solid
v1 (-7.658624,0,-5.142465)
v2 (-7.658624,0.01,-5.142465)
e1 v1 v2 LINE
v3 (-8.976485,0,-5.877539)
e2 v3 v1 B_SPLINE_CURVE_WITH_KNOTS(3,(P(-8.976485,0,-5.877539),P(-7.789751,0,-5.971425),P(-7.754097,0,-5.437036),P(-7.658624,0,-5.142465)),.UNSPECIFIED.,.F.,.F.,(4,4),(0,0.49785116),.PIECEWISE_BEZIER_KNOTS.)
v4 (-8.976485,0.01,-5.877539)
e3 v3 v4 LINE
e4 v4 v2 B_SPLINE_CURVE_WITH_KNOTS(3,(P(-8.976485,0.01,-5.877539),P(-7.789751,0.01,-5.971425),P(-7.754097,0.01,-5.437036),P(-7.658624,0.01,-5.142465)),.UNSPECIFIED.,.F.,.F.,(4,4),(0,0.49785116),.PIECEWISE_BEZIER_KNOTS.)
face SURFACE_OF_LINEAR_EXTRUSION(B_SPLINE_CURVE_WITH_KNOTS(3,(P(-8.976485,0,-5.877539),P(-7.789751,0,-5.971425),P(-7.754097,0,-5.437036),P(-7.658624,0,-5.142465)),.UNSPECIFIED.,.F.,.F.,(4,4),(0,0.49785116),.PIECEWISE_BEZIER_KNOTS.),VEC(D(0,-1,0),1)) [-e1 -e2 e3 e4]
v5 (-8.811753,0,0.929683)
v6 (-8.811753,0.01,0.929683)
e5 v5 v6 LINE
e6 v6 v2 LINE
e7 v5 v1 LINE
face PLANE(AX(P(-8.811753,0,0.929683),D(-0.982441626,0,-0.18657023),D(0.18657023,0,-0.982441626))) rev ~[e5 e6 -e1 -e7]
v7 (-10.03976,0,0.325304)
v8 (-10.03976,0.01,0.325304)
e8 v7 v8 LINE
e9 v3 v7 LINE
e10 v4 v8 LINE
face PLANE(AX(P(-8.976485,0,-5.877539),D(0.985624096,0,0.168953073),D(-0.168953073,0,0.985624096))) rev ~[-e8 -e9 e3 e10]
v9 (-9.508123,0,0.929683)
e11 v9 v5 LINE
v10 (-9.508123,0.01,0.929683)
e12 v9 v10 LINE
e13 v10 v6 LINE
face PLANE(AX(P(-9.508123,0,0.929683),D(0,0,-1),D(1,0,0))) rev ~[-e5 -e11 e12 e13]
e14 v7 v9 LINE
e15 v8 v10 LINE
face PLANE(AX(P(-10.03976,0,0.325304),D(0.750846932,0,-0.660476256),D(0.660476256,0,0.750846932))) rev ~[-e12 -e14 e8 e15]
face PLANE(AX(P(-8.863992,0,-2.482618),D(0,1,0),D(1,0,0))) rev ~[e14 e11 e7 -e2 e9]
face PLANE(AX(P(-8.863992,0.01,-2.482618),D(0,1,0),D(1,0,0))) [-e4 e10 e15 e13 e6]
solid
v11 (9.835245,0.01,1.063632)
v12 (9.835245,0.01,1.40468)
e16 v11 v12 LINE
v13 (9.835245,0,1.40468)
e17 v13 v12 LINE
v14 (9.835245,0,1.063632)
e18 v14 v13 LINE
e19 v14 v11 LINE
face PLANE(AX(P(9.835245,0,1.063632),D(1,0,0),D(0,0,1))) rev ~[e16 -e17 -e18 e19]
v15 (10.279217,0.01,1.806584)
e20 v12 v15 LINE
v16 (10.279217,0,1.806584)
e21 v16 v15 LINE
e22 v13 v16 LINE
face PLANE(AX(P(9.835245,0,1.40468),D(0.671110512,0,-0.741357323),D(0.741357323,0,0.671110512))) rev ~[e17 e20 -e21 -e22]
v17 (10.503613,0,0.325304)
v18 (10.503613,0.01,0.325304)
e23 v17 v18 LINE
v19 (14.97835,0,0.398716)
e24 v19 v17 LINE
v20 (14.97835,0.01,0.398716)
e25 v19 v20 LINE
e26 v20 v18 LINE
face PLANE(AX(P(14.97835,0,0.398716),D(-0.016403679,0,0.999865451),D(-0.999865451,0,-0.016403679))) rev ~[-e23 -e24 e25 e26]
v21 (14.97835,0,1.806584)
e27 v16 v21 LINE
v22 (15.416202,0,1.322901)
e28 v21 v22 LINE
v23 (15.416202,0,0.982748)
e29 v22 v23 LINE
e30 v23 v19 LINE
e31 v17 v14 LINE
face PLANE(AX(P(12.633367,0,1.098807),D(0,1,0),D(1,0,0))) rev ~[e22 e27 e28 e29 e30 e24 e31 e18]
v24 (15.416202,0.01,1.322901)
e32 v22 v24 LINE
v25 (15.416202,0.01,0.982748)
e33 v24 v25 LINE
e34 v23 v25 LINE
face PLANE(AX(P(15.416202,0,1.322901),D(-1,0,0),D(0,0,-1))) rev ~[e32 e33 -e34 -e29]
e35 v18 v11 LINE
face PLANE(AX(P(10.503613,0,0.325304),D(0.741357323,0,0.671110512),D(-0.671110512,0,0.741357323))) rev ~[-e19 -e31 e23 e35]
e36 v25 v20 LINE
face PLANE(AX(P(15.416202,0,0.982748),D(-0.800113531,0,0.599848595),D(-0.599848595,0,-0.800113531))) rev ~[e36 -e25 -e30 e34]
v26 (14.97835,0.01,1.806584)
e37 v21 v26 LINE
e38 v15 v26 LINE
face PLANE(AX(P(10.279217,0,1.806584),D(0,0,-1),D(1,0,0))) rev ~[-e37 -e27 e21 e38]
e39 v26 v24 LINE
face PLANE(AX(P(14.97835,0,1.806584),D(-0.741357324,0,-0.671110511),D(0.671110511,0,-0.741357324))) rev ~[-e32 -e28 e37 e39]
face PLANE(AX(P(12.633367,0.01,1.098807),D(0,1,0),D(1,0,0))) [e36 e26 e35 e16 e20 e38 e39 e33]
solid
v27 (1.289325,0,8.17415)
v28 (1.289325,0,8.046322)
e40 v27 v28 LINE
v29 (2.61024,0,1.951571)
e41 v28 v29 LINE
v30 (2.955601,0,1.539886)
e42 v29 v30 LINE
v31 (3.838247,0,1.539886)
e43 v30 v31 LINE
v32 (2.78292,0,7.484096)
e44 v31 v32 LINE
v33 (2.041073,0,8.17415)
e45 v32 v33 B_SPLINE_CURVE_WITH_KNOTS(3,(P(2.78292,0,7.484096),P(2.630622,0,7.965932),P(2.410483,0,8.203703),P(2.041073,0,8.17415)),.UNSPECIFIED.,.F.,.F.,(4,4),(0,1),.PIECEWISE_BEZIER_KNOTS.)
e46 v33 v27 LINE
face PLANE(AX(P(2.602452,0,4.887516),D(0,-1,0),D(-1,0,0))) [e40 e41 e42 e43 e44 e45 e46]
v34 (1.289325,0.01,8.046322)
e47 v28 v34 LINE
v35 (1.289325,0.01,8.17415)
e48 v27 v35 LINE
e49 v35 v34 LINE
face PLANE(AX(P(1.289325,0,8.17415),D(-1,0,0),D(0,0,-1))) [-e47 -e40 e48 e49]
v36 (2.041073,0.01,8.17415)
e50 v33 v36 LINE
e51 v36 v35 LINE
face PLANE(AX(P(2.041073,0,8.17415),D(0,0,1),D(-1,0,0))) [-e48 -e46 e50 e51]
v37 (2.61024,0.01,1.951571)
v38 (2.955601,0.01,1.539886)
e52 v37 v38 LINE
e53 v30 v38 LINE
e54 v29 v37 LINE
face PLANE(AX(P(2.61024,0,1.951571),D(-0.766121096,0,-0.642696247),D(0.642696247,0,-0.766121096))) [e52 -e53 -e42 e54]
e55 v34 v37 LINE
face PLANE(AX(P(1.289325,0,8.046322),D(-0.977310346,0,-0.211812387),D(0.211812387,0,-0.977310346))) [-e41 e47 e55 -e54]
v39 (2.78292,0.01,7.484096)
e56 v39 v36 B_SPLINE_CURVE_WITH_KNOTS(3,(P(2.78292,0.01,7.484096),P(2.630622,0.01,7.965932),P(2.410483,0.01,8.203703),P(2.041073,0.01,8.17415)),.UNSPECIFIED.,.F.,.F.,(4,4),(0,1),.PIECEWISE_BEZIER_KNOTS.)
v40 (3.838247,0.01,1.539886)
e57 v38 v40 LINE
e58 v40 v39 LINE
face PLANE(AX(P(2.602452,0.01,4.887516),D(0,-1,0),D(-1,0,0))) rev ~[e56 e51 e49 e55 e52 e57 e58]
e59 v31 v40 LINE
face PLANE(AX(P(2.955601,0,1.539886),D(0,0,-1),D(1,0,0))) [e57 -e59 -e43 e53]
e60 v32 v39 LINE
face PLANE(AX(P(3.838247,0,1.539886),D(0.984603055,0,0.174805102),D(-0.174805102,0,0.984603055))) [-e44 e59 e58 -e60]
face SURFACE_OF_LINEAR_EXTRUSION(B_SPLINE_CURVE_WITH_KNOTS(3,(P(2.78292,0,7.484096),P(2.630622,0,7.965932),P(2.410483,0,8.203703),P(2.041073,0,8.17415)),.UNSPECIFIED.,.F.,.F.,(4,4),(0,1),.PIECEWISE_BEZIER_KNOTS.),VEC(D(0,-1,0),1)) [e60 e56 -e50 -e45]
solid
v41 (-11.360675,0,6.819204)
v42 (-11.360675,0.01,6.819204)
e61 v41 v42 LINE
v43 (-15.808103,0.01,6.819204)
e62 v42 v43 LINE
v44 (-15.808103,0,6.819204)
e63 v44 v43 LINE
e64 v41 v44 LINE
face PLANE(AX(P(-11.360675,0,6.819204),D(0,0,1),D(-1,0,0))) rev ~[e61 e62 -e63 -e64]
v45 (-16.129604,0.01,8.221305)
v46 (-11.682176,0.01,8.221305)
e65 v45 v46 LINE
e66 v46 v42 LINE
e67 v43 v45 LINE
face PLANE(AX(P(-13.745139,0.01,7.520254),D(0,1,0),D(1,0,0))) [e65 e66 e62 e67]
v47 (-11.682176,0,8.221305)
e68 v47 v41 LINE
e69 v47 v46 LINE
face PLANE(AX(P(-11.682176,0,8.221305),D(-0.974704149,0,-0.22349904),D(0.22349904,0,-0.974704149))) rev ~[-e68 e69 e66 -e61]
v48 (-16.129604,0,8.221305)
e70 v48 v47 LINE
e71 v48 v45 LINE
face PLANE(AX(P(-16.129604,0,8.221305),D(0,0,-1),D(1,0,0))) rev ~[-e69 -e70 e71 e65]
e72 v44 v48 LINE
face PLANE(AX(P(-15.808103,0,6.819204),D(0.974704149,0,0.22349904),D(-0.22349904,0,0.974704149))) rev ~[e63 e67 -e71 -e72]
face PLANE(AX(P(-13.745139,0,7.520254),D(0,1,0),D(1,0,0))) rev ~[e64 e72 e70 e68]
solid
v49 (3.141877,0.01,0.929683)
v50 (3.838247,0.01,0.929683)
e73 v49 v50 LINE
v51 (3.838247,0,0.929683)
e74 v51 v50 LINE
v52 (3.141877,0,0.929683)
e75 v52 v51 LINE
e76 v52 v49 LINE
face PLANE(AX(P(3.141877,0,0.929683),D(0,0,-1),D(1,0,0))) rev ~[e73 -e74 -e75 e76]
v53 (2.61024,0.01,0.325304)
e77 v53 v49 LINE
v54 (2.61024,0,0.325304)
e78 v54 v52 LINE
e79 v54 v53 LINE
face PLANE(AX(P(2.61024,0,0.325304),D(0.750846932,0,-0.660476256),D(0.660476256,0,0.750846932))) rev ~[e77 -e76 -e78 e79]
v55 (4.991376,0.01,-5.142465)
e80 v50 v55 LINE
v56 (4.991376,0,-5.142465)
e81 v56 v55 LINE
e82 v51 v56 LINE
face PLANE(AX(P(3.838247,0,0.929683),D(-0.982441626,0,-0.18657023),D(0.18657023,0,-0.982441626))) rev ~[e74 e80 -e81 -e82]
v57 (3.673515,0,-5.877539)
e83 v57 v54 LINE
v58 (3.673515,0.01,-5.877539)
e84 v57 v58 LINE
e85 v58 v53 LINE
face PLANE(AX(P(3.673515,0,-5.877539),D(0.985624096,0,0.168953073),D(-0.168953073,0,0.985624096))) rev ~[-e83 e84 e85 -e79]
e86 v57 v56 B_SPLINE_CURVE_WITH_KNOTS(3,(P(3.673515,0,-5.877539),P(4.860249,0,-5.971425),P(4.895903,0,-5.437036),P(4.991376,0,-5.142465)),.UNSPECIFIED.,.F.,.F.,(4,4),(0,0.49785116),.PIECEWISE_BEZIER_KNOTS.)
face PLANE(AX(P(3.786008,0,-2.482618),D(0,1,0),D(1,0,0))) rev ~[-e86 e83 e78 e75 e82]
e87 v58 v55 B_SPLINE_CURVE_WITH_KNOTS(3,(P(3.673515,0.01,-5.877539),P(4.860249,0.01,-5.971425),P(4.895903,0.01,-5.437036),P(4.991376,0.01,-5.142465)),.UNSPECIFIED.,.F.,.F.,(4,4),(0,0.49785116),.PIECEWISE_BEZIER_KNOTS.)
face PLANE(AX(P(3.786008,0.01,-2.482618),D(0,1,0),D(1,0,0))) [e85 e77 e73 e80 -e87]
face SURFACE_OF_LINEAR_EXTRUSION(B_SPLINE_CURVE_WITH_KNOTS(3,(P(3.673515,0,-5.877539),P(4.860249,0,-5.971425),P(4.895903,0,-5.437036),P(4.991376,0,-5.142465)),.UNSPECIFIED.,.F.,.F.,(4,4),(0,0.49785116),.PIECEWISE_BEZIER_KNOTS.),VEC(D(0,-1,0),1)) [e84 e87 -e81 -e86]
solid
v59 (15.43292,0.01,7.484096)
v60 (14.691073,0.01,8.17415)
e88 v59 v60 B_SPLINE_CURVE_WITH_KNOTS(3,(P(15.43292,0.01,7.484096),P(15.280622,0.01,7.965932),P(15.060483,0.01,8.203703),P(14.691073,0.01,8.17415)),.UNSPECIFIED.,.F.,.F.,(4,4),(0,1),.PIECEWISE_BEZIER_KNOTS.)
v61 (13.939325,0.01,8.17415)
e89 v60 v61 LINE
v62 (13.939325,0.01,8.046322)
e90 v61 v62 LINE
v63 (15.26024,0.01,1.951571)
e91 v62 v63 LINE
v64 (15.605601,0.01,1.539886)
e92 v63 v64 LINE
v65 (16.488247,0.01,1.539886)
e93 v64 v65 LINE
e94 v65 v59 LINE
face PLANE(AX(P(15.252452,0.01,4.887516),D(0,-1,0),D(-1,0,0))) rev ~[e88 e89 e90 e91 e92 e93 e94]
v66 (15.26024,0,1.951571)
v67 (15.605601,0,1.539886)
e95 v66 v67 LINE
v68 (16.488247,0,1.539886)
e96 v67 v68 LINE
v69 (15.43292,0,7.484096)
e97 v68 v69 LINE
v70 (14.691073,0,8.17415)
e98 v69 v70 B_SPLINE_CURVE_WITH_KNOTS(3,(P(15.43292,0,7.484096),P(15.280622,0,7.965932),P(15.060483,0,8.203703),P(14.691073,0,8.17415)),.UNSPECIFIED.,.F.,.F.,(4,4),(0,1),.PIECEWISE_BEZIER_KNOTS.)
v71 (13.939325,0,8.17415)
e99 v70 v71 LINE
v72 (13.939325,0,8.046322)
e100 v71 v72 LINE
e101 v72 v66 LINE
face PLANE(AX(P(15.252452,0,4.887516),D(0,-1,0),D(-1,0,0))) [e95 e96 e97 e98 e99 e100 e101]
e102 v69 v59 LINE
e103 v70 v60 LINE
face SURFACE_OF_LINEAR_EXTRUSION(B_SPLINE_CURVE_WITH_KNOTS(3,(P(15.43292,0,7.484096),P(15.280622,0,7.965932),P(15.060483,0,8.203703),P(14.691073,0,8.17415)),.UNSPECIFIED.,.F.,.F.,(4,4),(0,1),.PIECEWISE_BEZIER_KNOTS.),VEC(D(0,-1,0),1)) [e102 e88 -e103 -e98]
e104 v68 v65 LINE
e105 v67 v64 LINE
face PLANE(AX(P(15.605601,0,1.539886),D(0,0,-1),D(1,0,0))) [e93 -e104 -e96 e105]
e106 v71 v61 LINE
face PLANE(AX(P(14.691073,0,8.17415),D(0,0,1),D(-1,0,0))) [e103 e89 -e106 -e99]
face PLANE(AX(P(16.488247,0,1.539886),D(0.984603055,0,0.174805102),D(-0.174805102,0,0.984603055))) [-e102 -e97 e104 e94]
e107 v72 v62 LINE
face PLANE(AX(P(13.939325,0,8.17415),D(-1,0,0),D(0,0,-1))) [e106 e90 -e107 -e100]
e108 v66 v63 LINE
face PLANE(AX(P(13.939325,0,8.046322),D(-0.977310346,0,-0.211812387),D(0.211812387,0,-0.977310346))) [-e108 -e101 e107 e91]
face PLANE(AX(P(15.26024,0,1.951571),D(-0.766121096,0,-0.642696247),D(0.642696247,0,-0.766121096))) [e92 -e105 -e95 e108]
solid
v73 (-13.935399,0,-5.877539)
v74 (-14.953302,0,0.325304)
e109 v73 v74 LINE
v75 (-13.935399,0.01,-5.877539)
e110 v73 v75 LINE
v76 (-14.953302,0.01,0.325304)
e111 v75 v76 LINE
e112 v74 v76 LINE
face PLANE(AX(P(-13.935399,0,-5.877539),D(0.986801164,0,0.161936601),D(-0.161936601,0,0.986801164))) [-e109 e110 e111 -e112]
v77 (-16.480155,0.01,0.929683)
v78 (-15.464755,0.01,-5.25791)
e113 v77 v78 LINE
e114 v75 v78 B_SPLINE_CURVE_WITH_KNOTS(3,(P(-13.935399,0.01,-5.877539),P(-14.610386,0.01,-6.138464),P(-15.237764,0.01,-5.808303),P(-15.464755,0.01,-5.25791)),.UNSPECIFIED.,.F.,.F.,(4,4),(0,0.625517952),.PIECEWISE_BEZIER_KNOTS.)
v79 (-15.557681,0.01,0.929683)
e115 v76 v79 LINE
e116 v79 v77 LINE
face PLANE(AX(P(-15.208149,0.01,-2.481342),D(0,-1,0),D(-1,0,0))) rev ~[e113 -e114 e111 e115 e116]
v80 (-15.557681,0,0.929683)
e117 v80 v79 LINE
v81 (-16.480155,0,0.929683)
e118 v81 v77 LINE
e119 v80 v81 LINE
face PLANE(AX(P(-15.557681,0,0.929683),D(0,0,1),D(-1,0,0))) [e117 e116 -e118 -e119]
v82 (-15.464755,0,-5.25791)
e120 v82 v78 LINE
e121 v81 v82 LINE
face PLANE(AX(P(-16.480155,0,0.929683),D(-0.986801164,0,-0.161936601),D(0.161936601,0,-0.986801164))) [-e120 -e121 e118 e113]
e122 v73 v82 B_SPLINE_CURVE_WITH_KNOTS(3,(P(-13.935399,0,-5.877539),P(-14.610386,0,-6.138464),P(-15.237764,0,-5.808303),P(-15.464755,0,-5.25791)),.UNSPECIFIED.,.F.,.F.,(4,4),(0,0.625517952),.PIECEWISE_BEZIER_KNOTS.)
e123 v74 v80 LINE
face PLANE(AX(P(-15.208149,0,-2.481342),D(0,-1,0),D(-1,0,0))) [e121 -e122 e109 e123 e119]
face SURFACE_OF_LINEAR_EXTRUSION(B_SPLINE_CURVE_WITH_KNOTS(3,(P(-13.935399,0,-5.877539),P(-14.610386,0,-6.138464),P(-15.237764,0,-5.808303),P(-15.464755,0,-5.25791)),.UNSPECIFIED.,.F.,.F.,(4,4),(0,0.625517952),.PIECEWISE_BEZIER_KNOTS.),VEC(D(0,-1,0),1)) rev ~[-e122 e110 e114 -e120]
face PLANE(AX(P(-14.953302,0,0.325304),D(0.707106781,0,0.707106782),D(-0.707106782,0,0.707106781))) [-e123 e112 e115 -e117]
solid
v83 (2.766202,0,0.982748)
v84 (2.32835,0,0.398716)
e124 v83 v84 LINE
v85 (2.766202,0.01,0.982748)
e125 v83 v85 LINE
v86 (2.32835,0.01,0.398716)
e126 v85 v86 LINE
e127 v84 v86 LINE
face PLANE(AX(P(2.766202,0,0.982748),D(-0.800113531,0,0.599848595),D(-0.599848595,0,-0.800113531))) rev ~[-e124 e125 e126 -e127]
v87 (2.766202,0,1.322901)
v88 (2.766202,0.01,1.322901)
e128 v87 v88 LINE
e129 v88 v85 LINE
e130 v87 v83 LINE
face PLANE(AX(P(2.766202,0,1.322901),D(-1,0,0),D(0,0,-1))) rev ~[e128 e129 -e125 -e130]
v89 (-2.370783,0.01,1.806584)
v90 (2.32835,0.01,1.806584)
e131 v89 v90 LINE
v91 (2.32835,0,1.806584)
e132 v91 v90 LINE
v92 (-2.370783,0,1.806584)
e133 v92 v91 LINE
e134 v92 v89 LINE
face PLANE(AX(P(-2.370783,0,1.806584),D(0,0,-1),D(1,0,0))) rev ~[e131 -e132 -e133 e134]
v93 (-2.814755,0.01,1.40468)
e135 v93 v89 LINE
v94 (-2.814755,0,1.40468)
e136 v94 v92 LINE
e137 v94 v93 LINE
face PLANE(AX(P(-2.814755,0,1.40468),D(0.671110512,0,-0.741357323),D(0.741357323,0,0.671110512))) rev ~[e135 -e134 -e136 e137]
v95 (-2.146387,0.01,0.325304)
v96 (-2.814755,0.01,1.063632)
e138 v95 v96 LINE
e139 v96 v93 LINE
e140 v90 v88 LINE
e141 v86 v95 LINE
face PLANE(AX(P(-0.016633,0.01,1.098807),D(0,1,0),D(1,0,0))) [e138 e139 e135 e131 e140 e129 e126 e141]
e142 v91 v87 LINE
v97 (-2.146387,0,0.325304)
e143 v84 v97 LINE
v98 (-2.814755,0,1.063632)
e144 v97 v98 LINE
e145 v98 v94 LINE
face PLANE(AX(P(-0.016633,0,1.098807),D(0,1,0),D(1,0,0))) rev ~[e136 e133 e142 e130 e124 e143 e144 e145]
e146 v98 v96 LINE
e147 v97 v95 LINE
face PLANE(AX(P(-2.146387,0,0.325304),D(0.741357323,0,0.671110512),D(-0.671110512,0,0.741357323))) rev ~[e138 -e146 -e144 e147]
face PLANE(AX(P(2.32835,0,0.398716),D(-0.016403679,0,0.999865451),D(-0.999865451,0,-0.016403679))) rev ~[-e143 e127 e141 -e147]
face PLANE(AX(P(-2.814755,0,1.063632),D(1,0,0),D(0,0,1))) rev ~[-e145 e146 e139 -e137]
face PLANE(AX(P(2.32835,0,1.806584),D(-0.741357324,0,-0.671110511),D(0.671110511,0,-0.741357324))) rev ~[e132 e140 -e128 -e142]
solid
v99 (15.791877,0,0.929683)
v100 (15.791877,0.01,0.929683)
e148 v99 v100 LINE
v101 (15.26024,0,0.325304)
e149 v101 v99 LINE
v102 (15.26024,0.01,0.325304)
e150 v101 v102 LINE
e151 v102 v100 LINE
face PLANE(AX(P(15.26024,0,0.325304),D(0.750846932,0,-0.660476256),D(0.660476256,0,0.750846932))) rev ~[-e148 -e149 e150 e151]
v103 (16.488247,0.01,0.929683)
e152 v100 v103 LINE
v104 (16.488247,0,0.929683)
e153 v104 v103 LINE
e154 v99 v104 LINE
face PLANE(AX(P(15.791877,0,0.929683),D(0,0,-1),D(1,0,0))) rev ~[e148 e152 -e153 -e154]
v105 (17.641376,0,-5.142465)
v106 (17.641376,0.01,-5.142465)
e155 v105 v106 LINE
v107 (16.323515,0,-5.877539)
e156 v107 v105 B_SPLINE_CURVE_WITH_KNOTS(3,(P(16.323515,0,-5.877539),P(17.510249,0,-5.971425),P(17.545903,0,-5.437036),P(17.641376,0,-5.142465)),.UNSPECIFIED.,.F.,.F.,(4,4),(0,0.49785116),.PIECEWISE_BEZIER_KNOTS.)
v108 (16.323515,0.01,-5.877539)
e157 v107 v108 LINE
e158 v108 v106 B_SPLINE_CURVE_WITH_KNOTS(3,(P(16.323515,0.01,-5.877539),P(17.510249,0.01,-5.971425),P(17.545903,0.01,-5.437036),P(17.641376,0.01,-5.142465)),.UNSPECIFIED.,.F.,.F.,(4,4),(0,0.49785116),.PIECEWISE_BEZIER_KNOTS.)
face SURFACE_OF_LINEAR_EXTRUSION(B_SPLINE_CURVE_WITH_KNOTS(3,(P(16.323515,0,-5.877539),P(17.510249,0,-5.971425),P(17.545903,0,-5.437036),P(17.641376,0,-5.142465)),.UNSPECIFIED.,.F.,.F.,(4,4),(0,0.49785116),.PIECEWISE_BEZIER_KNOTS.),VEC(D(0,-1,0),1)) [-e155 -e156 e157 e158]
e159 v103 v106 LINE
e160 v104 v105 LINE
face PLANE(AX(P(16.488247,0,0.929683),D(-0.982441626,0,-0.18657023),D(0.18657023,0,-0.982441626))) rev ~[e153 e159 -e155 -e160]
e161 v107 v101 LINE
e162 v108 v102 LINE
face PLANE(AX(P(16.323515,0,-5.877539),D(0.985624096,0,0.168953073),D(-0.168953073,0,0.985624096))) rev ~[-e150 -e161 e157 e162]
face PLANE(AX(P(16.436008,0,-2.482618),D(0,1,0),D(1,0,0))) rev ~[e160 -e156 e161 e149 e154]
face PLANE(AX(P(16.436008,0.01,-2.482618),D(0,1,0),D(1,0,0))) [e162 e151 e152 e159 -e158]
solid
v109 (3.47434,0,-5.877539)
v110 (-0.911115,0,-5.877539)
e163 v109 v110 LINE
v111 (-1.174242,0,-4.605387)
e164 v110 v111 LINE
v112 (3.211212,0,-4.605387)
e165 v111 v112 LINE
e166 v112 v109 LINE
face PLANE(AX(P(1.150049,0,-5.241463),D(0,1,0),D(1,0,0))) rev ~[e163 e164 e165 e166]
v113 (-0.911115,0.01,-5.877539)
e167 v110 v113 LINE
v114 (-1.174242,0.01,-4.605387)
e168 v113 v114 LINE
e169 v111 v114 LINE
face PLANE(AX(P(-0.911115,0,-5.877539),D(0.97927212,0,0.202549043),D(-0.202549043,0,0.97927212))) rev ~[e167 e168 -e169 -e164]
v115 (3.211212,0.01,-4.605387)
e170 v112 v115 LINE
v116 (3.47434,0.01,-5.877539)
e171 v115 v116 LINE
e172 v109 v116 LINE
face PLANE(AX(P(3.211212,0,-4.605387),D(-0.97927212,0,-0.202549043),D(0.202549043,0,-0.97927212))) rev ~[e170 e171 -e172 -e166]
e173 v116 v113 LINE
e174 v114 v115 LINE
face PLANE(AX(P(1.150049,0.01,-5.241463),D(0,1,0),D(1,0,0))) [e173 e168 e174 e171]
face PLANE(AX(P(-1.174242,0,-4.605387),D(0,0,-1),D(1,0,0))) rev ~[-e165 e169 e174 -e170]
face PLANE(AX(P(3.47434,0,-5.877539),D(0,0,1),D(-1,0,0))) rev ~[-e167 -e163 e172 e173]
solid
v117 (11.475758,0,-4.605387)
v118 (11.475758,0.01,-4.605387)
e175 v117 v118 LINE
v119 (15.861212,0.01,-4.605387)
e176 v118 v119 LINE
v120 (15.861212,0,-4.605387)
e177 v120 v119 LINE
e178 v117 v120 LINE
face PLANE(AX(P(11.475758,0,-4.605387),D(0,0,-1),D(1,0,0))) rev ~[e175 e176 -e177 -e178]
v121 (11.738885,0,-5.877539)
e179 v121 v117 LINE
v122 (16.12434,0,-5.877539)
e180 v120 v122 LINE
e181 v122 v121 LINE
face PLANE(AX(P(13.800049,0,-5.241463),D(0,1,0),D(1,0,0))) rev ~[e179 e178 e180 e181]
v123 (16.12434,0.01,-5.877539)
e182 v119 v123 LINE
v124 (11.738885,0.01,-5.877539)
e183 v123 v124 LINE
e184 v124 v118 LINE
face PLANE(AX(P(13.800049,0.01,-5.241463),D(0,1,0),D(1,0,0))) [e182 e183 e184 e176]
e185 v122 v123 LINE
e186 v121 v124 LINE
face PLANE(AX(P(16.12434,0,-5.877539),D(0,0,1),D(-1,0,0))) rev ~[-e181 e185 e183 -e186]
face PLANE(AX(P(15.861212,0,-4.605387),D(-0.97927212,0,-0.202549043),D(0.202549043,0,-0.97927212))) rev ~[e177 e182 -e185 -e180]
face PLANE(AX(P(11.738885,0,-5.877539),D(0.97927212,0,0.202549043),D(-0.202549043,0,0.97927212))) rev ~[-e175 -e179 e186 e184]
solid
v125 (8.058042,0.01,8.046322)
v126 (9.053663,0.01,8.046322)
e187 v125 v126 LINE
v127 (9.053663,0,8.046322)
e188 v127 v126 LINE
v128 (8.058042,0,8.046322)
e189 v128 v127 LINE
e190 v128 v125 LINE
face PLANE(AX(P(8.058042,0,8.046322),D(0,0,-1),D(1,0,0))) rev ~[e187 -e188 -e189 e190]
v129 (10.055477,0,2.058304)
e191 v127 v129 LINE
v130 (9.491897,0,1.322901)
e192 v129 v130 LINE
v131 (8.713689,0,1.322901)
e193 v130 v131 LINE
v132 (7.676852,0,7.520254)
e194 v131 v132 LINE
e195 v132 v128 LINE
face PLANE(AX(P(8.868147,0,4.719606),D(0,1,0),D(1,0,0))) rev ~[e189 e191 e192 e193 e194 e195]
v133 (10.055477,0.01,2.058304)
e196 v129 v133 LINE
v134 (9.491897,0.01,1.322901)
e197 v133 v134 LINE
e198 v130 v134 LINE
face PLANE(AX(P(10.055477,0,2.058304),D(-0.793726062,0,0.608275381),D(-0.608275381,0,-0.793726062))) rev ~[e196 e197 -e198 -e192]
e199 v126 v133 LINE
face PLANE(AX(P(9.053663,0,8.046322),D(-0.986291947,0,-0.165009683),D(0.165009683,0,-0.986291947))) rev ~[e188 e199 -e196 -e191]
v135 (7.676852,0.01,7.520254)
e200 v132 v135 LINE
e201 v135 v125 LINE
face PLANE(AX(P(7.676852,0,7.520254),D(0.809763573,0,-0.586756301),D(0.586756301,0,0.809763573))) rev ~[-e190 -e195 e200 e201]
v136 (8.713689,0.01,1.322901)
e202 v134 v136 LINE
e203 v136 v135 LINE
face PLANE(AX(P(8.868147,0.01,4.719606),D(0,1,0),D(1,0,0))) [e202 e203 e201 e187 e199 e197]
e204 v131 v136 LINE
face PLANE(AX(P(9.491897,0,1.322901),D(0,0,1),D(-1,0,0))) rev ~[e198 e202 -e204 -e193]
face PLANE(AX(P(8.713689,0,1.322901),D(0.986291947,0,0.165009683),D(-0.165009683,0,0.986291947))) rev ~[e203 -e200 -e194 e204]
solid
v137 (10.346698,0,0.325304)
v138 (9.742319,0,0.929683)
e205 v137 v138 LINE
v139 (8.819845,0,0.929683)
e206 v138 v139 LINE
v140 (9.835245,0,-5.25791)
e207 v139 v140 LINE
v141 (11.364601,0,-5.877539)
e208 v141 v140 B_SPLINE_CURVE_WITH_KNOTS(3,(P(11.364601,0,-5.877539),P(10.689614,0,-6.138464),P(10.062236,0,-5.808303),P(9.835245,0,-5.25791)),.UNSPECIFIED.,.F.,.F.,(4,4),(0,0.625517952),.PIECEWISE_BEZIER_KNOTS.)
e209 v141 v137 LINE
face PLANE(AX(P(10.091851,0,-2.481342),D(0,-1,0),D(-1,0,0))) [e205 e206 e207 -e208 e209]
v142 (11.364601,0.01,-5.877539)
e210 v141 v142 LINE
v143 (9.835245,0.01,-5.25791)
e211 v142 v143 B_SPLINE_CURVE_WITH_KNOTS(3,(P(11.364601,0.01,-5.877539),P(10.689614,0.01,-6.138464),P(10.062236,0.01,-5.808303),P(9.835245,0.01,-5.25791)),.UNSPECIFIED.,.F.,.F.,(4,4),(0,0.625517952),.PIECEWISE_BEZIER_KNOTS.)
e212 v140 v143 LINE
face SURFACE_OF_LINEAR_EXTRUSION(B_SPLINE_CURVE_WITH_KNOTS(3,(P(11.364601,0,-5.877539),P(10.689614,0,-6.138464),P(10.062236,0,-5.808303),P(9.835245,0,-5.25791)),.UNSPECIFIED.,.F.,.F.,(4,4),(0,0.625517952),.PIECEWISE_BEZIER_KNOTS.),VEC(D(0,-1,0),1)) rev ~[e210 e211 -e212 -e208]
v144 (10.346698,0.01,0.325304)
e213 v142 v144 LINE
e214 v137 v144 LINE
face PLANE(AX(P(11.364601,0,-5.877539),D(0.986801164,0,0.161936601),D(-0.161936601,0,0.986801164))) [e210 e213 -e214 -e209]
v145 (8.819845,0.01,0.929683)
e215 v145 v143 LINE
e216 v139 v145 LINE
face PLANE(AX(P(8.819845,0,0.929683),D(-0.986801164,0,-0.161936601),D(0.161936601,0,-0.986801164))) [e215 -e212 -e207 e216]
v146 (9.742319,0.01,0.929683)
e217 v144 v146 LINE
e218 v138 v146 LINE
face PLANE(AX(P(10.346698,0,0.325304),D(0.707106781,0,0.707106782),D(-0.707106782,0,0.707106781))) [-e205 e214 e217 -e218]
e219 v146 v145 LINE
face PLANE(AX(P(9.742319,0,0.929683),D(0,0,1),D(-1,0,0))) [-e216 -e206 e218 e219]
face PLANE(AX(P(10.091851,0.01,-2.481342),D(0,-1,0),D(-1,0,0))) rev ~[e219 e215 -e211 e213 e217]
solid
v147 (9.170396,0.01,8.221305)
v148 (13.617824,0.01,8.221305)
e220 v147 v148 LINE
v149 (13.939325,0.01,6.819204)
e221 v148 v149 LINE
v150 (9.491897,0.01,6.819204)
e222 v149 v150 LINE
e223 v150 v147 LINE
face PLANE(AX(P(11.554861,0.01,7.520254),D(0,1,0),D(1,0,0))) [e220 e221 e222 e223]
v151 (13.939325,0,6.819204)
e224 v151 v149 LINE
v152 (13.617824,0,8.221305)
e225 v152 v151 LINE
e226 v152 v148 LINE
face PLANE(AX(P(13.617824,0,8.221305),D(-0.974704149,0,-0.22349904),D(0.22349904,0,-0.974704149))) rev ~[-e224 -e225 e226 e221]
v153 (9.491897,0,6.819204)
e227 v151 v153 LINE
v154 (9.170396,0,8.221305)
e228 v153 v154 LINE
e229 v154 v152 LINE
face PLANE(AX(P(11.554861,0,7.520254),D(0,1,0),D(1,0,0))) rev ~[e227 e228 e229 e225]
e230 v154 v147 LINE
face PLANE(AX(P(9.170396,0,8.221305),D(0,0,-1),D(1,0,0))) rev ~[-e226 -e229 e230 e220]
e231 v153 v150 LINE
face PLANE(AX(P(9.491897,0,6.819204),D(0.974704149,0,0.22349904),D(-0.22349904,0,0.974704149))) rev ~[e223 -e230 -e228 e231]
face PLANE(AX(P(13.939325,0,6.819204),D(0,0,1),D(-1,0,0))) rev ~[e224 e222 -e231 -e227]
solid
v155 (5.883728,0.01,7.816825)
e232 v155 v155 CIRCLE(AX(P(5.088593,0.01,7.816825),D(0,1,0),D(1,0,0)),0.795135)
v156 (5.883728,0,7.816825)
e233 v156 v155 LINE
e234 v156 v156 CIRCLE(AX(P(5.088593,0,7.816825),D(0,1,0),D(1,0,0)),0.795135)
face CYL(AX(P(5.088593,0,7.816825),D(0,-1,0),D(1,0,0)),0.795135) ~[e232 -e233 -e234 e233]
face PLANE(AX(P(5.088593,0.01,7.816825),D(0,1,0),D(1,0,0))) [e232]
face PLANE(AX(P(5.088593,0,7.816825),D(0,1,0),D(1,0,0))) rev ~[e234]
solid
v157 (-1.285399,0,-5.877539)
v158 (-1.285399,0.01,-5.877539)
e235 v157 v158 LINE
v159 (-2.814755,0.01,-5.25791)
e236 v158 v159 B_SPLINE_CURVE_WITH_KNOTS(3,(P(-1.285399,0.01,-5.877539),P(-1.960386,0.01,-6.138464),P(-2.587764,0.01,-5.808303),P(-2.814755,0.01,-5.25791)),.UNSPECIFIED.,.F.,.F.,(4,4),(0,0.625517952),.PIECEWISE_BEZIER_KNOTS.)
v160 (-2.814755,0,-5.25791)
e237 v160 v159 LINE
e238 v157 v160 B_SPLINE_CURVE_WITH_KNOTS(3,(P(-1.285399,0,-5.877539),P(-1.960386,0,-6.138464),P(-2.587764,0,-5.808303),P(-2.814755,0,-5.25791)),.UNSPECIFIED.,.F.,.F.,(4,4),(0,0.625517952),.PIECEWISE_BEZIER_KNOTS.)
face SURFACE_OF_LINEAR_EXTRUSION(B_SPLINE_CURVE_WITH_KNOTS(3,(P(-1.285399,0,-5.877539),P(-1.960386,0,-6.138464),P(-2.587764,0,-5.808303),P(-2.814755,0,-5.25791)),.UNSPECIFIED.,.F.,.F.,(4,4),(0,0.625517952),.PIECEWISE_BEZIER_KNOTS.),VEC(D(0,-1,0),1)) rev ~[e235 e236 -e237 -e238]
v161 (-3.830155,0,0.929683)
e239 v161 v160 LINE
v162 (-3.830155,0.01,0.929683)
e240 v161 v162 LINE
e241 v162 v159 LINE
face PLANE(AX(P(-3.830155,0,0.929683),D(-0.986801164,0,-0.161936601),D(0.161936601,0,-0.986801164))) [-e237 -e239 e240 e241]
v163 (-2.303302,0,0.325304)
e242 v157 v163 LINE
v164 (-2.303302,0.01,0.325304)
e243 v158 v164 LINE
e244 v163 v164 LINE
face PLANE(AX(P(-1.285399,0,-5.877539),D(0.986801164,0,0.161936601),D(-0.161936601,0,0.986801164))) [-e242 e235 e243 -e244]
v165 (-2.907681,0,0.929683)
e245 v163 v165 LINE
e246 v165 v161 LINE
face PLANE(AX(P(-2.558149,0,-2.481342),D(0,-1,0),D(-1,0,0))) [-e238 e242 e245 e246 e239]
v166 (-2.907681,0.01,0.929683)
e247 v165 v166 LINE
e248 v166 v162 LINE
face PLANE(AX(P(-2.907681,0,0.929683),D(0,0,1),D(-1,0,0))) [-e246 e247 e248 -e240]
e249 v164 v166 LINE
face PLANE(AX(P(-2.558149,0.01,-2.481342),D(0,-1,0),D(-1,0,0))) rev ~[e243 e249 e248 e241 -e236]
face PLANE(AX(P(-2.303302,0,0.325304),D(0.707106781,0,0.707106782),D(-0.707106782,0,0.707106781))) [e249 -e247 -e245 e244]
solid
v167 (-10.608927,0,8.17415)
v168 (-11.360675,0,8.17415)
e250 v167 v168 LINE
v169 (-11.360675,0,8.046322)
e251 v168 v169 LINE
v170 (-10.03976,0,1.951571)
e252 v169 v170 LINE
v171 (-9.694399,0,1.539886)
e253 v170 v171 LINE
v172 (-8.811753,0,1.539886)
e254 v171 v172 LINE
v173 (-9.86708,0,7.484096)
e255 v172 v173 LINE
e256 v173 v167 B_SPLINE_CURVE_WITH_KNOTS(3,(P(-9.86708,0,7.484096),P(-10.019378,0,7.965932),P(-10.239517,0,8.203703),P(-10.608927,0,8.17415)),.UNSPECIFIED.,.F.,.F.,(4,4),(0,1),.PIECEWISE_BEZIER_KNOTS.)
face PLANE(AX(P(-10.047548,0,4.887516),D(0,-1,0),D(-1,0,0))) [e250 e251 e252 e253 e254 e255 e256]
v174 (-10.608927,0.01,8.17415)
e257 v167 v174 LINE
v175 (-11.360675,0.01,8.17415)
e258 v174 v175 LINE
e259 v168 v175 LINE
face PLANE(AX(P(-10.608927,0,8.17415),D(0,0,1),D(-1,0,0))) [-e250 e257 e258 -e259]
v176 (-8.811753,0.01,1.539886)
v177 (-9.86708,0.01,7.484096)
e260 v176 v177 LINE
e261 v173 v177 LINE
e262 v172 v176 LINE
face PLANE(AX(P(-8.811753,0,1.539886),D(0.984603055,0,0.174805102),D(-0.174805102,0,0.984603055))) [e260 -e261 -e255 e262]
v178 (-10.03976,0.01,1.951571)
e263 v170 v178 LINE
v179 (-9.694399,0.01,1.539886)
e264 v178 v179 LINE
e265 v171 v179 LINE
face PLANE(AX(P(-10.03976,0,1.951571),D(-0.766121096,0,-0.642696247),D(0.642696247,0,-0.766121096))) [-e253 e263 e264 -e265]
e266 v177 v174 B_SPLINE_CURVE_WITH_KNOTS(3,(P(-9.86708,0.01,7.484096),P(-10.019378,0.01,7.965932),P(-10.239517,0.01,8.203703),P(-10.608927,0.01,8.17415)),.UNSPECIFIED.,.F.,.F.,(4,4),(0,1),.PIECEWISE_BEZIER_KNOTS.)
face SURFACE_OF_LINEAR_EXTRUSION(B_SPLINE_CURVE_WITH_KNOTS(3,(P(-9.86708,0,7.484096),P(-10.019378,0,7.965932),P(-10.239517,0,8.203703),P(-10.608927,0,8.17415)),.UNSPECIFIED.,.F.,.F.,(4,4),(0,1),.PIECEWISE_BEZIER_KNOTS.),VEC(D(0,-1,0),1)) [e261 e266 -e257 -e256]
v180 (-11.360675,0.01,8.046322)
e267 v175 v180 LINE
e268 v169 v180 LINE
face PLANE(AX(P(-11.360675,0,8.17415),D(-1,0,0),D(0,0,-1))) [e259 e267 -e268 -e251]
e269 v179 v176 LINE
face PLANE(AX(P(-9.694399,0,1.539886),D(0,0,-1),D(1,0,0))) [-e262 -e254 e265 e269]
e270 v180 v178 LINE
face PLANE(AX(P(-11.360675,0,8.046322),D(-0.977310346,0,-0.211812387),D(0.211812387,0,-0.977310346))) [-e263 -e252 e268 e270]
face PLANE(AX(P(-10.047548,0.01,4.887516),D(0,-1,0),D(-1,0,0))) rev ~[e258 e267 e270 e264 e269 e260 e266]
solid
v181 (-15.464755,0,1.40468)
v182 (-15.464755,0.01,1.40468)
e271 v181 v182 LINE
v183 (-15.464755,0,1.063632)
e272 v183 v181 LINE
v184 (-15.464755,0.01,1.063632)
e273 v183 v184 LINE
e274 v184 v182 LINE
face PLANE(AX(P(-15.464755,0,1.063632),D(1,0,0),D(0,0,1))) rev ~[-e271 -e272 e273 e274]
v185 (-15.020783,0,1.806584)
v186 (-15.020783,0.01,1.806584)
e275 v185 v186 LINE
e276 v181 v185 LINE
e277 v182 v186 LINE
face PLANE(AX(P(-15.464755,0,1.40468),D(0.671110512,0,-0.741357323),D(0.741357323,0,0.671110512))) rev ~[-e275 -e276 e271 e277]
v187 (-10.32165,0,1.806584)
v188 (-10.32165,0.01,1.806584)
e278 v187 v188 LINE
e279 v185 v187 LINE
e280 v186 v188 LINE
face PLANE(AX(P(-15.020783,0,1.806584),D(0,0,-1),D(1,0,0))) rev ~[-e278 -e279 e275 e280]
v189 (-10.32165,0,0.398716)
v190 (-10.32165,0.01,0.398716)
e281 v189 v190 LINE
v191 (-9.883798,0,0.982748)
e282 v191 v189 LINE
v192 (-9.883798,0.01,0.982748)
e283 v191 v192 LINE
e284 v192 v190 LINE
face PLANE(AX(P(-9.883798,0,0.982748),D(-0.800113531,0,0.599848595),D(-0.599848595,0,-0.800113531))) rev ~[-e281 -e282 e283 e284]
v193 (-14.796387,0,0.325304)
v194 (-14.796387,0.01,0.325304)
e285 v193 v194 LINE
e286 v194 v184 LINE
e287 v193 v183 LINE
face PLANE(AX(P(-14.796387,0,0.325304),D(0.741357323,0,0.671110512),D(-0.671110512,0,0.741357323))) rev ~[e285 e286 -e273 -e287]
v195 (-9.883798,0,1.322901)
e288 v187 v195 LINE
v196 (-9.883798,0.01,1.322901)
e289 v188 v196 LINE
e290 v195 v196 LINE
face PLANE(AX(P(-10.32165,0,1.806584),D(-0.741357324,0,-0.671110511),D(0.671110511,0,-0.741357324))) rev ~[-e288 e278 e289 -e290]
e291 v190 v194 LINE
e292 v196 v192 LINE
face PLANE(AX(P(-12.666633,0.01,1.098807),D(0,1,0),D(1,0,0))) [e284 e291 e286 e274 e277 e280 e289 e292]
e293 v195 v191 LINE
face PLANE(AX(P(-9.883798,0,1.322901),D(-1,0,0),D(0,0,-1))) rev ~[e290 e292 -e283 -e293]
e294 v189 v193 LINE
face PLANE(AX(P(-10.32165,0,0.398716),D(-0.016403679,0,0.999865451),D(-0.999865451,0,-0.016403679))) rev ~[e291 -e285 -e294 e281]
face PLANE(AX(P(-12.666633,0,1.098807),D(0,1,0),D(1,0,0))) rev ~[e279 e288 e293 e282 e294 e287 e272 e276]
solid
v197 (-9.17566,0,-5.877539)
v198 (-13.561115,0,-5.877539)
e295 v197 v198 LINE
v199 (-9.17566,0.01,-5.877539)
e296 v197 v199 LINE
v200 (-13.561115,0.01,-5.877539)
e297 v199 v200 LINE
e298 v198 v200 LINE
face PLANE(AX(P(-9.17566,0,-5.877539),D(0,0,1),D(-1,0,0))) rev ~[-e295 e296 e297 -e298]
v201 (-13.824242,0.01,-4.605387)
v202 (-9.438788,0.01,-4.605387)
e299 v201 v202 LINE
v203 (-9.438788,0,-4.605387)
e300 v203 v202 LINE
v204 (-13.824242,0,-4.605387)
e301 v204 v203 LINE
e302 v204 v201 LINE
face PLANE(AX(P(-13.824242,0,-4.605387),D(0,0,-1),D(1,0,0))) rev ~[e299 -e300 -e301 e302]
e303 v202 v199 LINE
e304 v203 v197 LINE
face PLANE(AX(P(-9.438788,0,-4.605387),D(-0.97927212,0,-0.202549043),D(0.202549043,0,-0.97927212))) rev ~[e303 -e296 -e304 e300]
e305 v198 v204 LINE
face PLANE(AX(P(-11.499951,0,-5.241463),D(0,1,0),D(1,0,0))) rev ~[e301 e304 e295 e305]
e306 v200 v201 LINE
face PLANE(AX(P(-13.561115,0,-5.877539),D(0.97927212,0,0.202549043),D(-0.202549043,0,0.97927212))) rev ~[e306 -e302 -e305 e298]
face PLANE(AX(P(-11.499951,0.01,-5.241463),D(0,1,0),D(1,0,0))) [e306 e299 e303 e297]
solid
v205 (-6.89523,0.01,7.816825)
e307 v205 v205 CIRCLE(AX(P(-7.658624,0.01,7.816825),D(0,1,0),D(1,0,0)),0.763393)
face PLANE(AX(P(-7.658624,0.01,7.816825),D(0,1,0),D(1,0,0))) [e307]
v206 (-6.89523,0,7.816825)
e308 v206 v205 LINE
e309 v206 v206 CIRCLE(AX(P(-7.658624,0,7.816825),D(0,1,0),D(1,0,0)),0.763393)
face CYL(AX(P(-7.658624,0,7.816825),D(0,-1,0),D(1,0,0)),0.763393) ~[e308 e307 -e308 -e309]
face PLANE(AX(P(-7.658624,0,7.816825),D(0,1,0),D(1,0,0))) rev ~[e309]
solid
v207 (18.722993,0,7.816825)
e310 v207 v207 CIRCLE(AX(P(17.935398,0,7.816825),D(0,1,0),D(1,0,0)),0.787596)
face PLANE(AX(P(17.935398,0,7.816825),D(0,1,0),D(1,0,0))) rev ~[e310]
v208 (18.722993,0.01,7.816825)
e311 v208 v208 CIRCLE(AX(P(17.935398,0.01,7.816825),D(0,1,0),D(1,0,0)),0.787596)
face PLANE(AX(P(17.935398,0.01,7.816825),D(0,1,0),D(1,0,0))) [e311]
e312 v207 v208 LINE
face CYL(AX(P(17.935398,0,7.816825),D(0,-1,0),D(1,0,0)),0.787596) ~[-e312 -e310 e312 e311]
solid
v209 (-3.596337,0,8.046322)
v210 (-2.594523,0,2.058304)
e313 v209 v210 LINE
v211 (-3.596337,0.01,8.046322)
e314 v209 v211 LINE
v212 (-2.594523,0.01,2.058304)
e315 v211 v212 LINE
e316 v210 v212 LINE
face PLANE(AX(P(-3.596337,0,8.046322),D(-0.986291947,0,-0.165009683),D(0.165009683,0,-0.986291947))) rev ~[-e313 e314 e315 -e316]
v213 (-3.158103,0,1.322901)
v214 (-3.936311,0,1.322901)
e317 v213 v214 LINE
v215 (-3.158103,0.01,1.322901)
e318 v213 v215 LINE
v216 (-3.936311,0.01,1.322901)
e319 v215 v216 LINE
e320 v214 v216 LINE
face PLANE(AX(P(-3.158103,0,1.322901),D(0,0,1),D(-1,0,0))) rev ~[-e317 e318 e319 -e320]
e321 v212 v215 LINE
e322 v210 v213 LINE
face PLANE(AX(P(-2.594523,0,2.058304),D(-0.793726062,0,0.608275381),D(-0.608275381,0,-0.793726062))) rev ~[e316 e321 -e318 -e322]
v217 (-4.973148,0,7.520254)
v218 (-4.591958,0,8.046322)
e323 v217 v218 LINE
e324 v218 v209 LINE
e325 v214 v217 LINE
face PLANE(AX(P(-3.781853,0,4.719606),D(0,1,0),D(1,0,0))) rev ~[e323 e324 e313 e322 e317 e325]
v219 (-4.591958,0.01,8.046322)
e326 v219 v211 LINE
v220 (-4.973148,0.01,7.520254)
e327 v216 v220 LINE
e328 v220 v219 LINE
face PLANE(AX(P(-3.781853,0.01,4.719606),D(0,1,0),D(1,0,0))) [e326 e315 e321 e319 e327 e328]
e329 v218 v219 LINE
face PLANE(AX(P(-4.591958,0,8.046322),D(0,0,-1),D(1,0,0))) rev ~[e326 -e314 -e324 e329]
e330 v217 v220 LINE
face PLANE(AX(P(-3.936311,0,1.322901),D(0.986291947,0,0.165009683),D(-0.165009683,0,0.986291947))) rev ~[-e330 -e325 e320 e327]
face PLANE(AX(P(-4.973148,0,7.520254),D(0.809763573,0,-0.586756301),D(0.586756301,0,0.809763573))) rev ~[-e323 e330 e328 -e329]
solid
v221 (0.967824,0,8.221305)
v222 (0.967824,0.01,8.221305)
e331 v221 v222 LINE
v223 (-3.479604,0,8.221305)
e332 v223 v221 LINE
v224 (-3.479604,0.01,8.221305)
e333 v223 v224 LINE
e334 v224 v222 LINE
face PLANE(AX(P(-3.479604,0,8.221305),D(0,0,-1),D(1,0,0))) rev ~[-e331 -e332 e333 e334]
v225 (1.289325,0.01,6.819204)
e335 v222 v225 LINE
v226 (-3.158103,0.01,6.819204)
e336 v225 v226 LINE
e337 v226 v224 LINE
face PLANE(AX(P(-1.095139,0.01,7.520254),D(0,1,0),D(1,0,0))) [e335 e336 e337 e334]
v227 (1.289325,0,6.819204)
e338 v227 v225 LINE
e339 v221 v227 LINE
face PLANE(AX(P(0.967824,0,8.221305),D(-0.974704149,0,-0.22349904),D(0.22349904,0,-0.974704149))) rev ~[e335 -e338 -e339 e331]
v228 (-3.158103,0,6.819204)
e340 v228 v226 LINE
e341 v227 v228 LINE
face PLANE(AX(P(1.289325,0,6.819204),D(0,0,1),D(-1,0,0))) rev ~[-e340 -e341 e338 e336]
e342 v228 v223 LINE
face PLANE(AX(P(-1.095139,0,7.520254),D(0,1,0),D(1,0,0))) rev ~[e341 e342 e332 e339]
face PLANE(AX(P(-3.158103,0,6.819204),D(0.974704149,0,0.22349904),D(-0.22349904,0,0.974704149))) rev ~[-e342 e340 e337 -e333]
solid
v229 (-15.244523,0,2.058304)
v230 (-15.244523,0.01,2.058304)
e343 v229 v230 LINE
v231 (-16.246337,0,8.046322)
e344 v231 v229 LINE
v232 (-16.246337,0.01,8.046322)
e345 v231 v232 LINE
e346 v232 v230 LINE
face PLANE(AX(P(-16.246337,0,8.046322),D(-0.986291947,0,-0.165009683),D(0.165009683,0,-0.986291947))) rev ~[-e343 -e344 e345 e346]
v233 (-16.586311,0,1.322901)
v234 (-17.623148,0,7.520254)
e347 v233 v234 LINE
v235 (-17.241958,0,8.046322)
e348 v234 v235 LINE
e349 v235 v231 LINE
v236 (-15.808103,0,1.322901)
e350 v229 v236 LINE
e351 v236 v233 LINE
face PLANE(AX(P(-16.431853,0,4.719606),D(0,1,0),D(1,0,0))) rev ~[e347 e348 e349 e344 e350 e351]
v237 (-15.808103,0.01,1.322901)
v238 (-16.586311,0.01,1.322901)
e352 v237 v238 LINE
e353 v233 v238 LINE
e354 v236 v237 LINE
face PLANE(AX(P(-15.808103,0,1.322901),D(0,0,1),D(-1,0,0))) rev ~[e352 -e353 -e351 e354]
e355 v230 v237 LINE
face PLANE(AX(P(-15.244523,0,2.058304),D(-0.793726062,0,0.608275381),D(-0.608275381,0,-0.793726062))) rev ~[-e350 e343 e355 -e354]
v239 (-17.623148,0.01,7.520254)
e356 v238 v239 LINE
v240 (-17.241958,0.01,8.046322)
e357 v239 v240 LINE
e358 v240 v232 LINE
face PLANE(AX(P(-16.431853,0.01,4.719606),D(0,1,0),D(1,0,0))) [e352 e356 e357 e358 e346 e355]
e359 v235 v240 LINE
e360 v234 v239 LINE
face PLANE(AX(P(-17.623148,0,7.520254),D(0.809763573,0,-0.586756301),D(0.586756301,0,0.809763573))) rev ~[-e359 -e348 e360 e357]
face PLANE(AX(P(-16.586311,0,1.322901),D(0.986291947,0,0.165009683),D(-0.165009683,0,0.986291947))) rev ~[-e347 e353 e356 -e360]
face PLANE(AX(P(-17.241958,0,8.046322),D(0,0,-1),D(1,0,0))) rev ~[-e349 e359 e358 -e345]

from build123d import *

# Parameters (mm, degrees)
SKETCH_1_R         = 0.763393416
EXTRUDE_1_DEPTH    = 0.01
SKETCH_1_R_2       = 0.795135379
EXTRUDE_1_2_DEPTH  = 0.01
SKETCH_1_R_3       = 0.787595702
EXTRUDE_1_3_DEPTH  = 0.01
EXTRUDE_1_4_DEPTH  = 0.01
EXTRUDE_1_5_DEPTH  = 0.01
EXTRUDE_1_6_DEPTH  = 0.01
EXTRUDE_1_7_DEPTH  = 0.01
EXTRUDE_1_8_DEPTH  = 0.01
EXTRUDE_1_9_DEPTH  = 0.01
EXTRUDE_1_10_DEPTH = 0.01
EXTRUDE_1_11_DEPTH = 0.01
EXTRUDE_1_12_DEPTH = 0.01
EXTRUDE_1_13_DEPTH = 0.01
EXTRUDE_1_14_DEPTH = 0.01
EXTRUDE_1_15_DEPTH = 0.01
EXTRUDE_1_16_DEPTH = 0.01
EXTRUDE_1_17_DEPTH = 0.01
EXTRUDE_1_18_DEPTH = 0.01
EXTRUDE_1_19_DEPTH = 0.01
EXTRUDE_1_20_DEPTH = 0.01
EXTRUDE_1_21_DEPTH = 0.01
EXTRUDE_1_22_DEPTH = 0.01
EXTRUDE_1_23_DEPTH = 0.01
EXTRUDE_1_24_DEPTH = 0.01


with BuildPart() as part:
    # Эскиз1 → Бобышка-Вытянуть1 (new body)
    with BuildSketch(Plane(origin=(0, 0, 0), x_dir=(1, 0, 0), z_dir=(0, 1, 0))):
        with Locations((-7.658623661, -7.816825486)):
            Circle(SKETCH_1_R)
    extrude(amount=EXTRUDE_1_DEPTH)


with BuildPart() as body_2:
    # Эскиз1 → Extrude 1 2 (new body)
    with BuildSketch(Plane(origin=(0, 0, 0), x_dir=(1, 0, 0), z_dir=(0, 1, 0))):
        with Locations((5.088592522, -7.816825486)):
            Circle(SKETCH_1_R_2)
    extrude(amount=EXTRUDE_1_2_DEPTH)


with BuildPart() as body_3:
    # Эскиз1 → Extrude 1 3 (new body)
    with BuildSketch(Plane(origin=(0, 0, 0), x_dir=(1, 0, 0), z_dir=(0, 1, 0))):
        with Locations((17.935397742, -7.816825486)):
            Circle(SKETCH_1_R_3)
    extrude(amount=EXTRUDE_1_3_DEPTH)


with BuildPart() as body_4:
    # Эскиз1 → Extrude 1 4 (new body)
    with BuildSketch(Plane(origin=(0, 0, 0), x_dir=(1, 0, 0), z_dir=(0, 1, 0))):
        with BuildLine():
            Line((-13.935399211, 5.877538867), (-14.953301559, -0.325303568))
            Line((-14.953301559, -0.325303568), (-15.557681079, -0.929683087))
            Line((-15.557681079, -0.929683087), (-16.480155082, -0.929683087))
            Line((-16.480155082, -0.929683087), (-15.464755195, 5.257909972))
            add(Edge.make_bspline(
                [(-13.935399211, 5.877538867), (-14.610385894, 6.138464398), (-15.237764212, 5.808302619), (-15.464755195, 5.257909972)],
                knots=[0, 0, 0, 0, 0.625517952, 0.625517952, 0.625517952, 0.625517952], degree=3))
        make_face()
    extrude(amount=EXTRUDE_1_4_DEPTH)


with BuildPart() as body_5:
    # Эскиз1 → Extrude 1 5 (new body)
    with BuildSketch(Plane(origin=(0, 0, 0), x_dir=(1, 0, 0), z_dir=(0, 1, 0))):
        Polygon((-13.561115101, 5.877538867), (-13.824242392, 4.605386618), (-9.438787541, 4.605386618), (-9.17566025, 5.877538867), align=None)
    extrude(amount=EXTRUDE_1_5_DEPTH)


with BuildPart() as body_6:
    # Эскиз1 → Extrude 1 6 (new body)
    with BuildSketch(Plane(origin=(0, 0, 0), x_dir=(1, 0, 0), z_dir=(0, 1, 0))):
        with BuildLine():
            Line((-8.976485421, 5.877538867), (-10.03976025, -0.325303568))
            Line((-10.03976025, -0.325303568), (-9.508122835, -0.929683087))
            Line((-9.508122835, -0.929683087), (-8.811752701, -0.929683087))
            Line((-8.811752701, -0.929683087), (-7.658623661, 5.142464503))
            add(Edge.make_bspline(
                [(-8.976485421, 5.877538867), (-7.789751397, 5.971425454), (-7.75409694, 5.437036419), (-7.658623661, 5.142464503)],
                knots=[0, 0, 0, 0, 0.49785116, 0.49785116, 0.49785116, 0.49785116], degree=3))
        make_face()
    extrude(amount=EXTRUDE_1_6_DEPTH)


with BuildPart() as body_7:
    # Эскиз1 → Extrude 1 7 (new body)
    with BuildSketch(Plane(origin=(0, 0, 0), x_dir=(1, 0, 0), z_dir=(0, 1, 0))):
        Polygon((-14.796386627, -0.325303568), (-15.464755195, -1.063631941), (-15.464755195, -1.404679905), (-15.020783216, -1.80658362), (-10.321650339, -1.80658362), (-9.883798455, -1.322900686), (-9.883798455, -0.982748319), (-10.321650339, -0.398715582), align=None)
    extrude(amount=EXTRUDE_1_7_DEPTH)


with BuildPart() as body_8:
    # Эскиз1 → Extrude 1 8 (new body)
    with BuildSketch(Plane(origin=(0, 0, 0), x_dir=(1, 0, 0), z_dir=(0, 1, 0))):
        Polygon((-15.808102822, -6.819203912), (-16.129603618, -8.221304608), (-11.682175934, -8.221304608), (-11.360675138, -6.819203912), align=None)
    extrude(amount=EXTRUDE_1_8_DEPTH)


with BuildPart() as body_9:
    # Эскиз1 → Extrude 1 9 (new body)
    with BuildSketch(Plane(origin=(0, 0, 0), x_dir=(1, 0, 0), z_dir=(0, 1, 0))):
        Polygon((-16.586311426, -1.322900686), (-17.623147785, -7.52025426), (-17.241957947, -8.046322143), (-16.246337063, -8.046322143), (-15.244523196, -2.058304174), (-15.808102822, -1.322900686), align=None)
    extrude(amount=EXTRUDE_1_9_DEPTH)


with BuildPart() as body_10:
    # Эскиз1 → Extrude 1 10 (new body)
    with BuildSketch(Plane(origin=(0, 0, 0), x_dir=(1, 0, 0), z_dir=(0, 1, 0))):
        with BuildLine():
            Line((-11.360675138, -8.046322143), (-10.03976025, -1.951571019))
            Line((-10.03976025, -1.951571019), (-9.694399155, -1.539885994))
            Line((-9.694399155, -1.539885994), (-8.811752701, -1.539885994))
            Line((-8.811752701, -1.539885994), (-9.867079703, -7.484095747))
            add(Edge.make_bspline(
                [(-9.867079703, -7.484095747), (-10.019377597, -7.965932222), (-10.239517084, -8.203702703), (-10.608927288, -8.174149887)],
                knots=[0, 0, 0, 0, 1, 1, 1, 1], degree=3))
            Line((-10.608927288, -8.174149887), (-11.360675138, -8.174149887))
            Line((-11.360675138, -8.174149887), (-11.360675138, -8.046322143))
        make_face()
    extrude(amount=EXTRUDE_1_10_DEPTH)


with BuildPart() as body_11:
    # Эскиз1 → Extrude 1 11 (new body)
    with BuildSketch(Plane(origin=(0, 0, 0), x_dir=(1, 0, 0), z_dir=(0, 1, 0))):
        with BuildLine():
            Line((-1.285399211, 5.877538867), (-2.303301559, -0.325303568))
            Line((-2.303301559, -0.325303568), (-2.907681079, -0.929683087))
            Line((-2.907681079, -0.929683087), (-3.830155082, -0.929683087))
            Line((-3.830155082, -0.929683087), (-2.814755195, 5.257909972))
            add(Edge.make_bspline(
                [(-1.285399211, 5.877538867), (-1.960385894, 6.138464398), (-2.587764212, 5.808302619), (-2.814755195, 5.257909972)],
                knots=[0, 0, 0, 0, 0.625517952, 0.625517952, 0.625517952, 0.625517952], degree=3))
        make_face()
    extrude(amount=EXTRUDE_1_11_DEPTH)


with BuildPart() as body_12:
    # Эскиз1 → Extrude 1 12 (new body)
    with BuildSketch(Plane(origin=(0, 0, 0), x_dir=(1, 0, 0), z_dir=(0, 1, 0))):
        Polygon((-0.911115101, 5.877538867), (-1.174242392, 4.605386618), (3.211212459, 4.605386618), (3.47433975, 5.877538867), align=None)
    extrude(amount=EXTRUDE_1_12_DEPTH)


with BuildPart() as body_13:
    # Эскиз1 → Extrude 1 13 (new body)
    with BuildSketch(Plane(origin=(0, 0, 0), x_dir=(1, 0, 0), z_dir=(0, 1, 0))):
        with BuildLine():
            Line((3.673514579, 5.877538867), (2.61023975, -0.325303568))
            Line((2.61023975, -0.325303568), (3.141877165, -0.929683087))
            Line((3.141877165, -0.929683087), (3.838247299, -0.929683087))
            Line((3.838247299, -0.929683087), (4.991376339, 5.142464503))
            add(Edge.make_bspline(
                [(3.673514579, 5.877538867), (4.860248603, 5.971425454), (4.89590306, 5.437036419), (4.991376339, 5.142464503)],
                knots=[0, 0, 0, 0, 0.49785116, 0.49785116, 0.49785116, 0.49785116], degree=3))
        make_face()
    extrude(amount=EXTRUDE_1_13_DEPTH)


with BuildPart() as body_14:
    # Эскиз1 → Extrude 1 14 (new body)
    with BuildSketch(Plane(origin=(0, 0, 0), x_dir=(1, 0, 0), z_dir=(0, 1, 0))):
        Polygon((-2.146386627, -0.325303568), (-2.814755195, -1.063631941), (-2.814755195, -1.404679905), (-2.370783216, -1.80658362), (2.328349661, -1.80658362), (2.766201545, -1.322900686), (2.766201545, -0.982748319), (2.328349661, -0.398715582), align=None)
    extrude(amount=EXTRUDE_1_14_DEPTH)


with BuildPart() as body_15:
    # Эскиз1 → Extrude 1 15 (new body)
    with BuildSketch(Plane(origin=(0, 0, 0), x_dir=(1, 0, 0), z_dir=(0, 1, 0))):
        Polygon((-3.158102822, -6.819203912), (-3.479603618, -8.221304608), (0.967824066, -8.221304608), (1.289324862, -6.819203912), align=None)
    extrude(amount=EXTRUDE_1_15_DEPTH)


with BuildPart() as body_16:
    # Эскиз1 → Extrude 1 16 (new body)
    with BuildSketch(Plane(origin=(0, 0, 0), x_dir=(1, 0, 0), z_dir=(0, 1, 0))):
        Polygon((-3.936311426, -1.322900686), (-4.973147785, -7.52025426), (-4.591957947, -8.046322143), (-3.596337063, -8.046322143), (-2.594523196, -2.058304174), (-3.158102822, -1.322900686), align=None)
    extrude(amount=EXTRUDE_1_16_DEPTH)


with BuildPart() as body_17:
    # Эскиз1 → Extrude 1 17 (new body)
    with BuildSketch(Plane(origin=(0, 0, 0), x_dir=(1, 0, 0), z_dir=(0, 1, 0))):
        with BuildLine():
            Line((1.289324862, -8.046322143), (2.61023975, -1.951571019))
            Line((2.61023975, -1.951571019), (2.955600845, -1.539885994))
            Line((2.955600845, -1.539885994), (3.838247299, -1.539885994))
            Line((3.838247299, -1.539885994), (2.782920297, -7.484095747))
            add(Edge.make_bspline(
                [(2.782920297, -7.484095747), (2.630622403, -7.965932222), (2.410482916, -8.203702703), (2.041072712, -8.174149887)],
                knots=[0, 0, 0, 0, 1, 1, 1, 1], degree=3))
            Line((2.041072712, -8.174149887), (1.289324862, -8.174149887))
            Line((1.289324862, -8.174149887), (1.289324862, -8.046322143))
        make_face()
    extrude(amount=EXTRUDE_1_17_DEPTH)


with BuildPart() as body_18:
    # Эскиз1 → Extrude 1 18 (new body)
    with BuildSketch(Plane(origin=(0, 0, 0), x_dir=(1, 0, 0), z_dir=(0, 1, 0))):
        with BuildLine():
            Line((11.364600789, 5.877538867), (10.346698441, -0.325303568))
            Line((10.346698441, -0.325303568), (9.742318921, -0.929683087))
            Line((9.742318921, -0.929683087), (8.819844918, -0.929683087))
            Line((8.819844918, -0.929683087), (9.835244805, 5.257909972))
            add(Edge.make_bspline(
                [(11.364600789, 5.877538867), (10.689614106, 6.138464398), (10.062235788, 5.808302619), (9.835244805, 5.257909972)],
                knots=[0, 0, 0, 0, 0.625517952, 0.625517952, 0.625517952, 0.625517952], degree=3))
        make_face()
    extrude(amount=EXTRUDE_1_18_DEPTH)


with BuildPart() as body_19:
    # Эскиз1 → Extrude 1 19 (new body)
    with BuildSketch(Plane(origin=(0, 0, 0), x_dir=(1, 0, 0), z_dir=(0, 1, 0))):
        Polygon((11.738884899, 5.877538867), (11.475757608, 4.605386618), (15.861212459, 4.605386618), (16.12433975, 5.877538867), align=None)
    extrude(amount=EXTRUDE_1_19_DEPTH)


with BuildPart() as body_20:
    # Эскиз1 → Extrude 1 20 (new body)
    with BuildSketch(Plane(origin=(0, 0, 0), x_dir=(1, 0, 0), z_dir=(0, 1, 0))):
        with BuildLine():
            Line((16.323514579, 5.877538867), (15.26023975, -0.325303568))
            Line((15.26023975, -0.325303568), (15.791877165, -0.929683087))
            Line((15.791877165, -0.929683087), (16.488247299, -0.929683087))
            Line((16.488247299, -0.929683087), (17.641376339, 5.142464503))
            add(Edge.make_bspline(
                [(16.323514579, 5.877538867), (17.510248603, 5.971425454), (17.54590306, 5.437036419), (17.641376339, 5.142464503)],
                knots=[0, 0, 0, 0, 0.49785116, 0.49785116, 0.49785116, 0.49785116], degree=3))
        make_face()
    extrude(amount=EXTRUDE_1_20_DEPTH)


with BuildPart() as body_21:
    # Эскиз1 → Extrude 1 21 (new body)
    with BuildSketch(Plane(origin=(0, 0, 0), x_dir=(1, 0, 0), z_dir=(0, 1, 0))):
        Polygon((10.503613373, -0.325303568), (9.835244805, -1.063631941), (9.835244805, -1.404679905), (10.279216784, -1.80658362), (14.978349661, -1.80658362), (15.416201545, -1.322900686), (15.416201545, -0.982748319), (14.978349661, -0.398715582), align=None)
    extrude(amount=EXTRUDE_1_21_DEPTH)


with BuildPart() as body_22:
    # Эскиз1 → Extrude 1 22 (new body)
    with BuildSketch(Plane(origin=(0, 0, 0), x_dir=(1, 0, 0), z_dir=(0, 1, 0))):
        Polygon((9.491897178, -6.819203912), (9.170396382, -8.221304608), (13.617824066, -8.221304608), (13.939324862, -6.819203912), align=None)
    extrude(amount=EXTRUDE_1_22_DEPTH)


with BuildPart() as body_23:
    # Эскиз1 → Extrude 1 23 (new body)
    with BuildSketch(Plane(origin=(0, 0, 0), x_dir=(1, 0, 0), z_dir=(0, 1, 0))):
        Polygon((8.713688574, -1.322900686), (7.676852215, -7.52025426), (8.058042053, -8.046322143), (9.053662937, -8.046322143), (10.055476804, -2.058304174), (9.491897178, -1.322900686), align=None)
    extrude(amount=EXTRUDE_1_23_DEPTH)


with BuildPart() as body_24:
    # Эскиз1 → Extrude 1 24 (new body)
    with BuildSketch(Plane(origin=(0, 0, 0), x_dir=(1, 0, 0), z_dir=(0, 1, 0))):
        with BuildLine():
            Line((13.939324862, -8.046322143), (15.26023975, -1.951571019))
            Line((15.26023975, -1.951571019), (15.605600845, -1.539885994))
            Line((15.605600845, -1.539885994), (16.488247299, -1.539885994))
            Line((16.488247299, -1.539885994), (15.432920297, -7.484095747))
            add(Edge.make_bspline(
                [(15.432920297, -7.484095747), (15.280622403, -7.965932222), (15.060482916, -8.203702703), (14.691072712, -8.174149887)],
                knots=[0, 0, 0, 0, 1, 1, 1, 1], degree=3))
            Line((14.691072712, -8.174149887), (13.939324862, -8.174149887))
            Line((13.939324862, -8.174149887), (13.939324862, -8.046322143))
        make_face()
    extrude(amount=EXTRUDE_1_24_DEPTH)


solid = Compound([part.part, body_2.part, body_3.part, body_4.part, body_5.part, body_6.part, body_7.part, body_8.part, body_9.part, body_10.part, body_11.part, body_12.part, body_13.part, body_14.part, body_15.part, body_16.part, body_17.part, body_18.part, body_19.part, body_20.part, body_21.part, body_22.part, body_23.part, body_24.part])
